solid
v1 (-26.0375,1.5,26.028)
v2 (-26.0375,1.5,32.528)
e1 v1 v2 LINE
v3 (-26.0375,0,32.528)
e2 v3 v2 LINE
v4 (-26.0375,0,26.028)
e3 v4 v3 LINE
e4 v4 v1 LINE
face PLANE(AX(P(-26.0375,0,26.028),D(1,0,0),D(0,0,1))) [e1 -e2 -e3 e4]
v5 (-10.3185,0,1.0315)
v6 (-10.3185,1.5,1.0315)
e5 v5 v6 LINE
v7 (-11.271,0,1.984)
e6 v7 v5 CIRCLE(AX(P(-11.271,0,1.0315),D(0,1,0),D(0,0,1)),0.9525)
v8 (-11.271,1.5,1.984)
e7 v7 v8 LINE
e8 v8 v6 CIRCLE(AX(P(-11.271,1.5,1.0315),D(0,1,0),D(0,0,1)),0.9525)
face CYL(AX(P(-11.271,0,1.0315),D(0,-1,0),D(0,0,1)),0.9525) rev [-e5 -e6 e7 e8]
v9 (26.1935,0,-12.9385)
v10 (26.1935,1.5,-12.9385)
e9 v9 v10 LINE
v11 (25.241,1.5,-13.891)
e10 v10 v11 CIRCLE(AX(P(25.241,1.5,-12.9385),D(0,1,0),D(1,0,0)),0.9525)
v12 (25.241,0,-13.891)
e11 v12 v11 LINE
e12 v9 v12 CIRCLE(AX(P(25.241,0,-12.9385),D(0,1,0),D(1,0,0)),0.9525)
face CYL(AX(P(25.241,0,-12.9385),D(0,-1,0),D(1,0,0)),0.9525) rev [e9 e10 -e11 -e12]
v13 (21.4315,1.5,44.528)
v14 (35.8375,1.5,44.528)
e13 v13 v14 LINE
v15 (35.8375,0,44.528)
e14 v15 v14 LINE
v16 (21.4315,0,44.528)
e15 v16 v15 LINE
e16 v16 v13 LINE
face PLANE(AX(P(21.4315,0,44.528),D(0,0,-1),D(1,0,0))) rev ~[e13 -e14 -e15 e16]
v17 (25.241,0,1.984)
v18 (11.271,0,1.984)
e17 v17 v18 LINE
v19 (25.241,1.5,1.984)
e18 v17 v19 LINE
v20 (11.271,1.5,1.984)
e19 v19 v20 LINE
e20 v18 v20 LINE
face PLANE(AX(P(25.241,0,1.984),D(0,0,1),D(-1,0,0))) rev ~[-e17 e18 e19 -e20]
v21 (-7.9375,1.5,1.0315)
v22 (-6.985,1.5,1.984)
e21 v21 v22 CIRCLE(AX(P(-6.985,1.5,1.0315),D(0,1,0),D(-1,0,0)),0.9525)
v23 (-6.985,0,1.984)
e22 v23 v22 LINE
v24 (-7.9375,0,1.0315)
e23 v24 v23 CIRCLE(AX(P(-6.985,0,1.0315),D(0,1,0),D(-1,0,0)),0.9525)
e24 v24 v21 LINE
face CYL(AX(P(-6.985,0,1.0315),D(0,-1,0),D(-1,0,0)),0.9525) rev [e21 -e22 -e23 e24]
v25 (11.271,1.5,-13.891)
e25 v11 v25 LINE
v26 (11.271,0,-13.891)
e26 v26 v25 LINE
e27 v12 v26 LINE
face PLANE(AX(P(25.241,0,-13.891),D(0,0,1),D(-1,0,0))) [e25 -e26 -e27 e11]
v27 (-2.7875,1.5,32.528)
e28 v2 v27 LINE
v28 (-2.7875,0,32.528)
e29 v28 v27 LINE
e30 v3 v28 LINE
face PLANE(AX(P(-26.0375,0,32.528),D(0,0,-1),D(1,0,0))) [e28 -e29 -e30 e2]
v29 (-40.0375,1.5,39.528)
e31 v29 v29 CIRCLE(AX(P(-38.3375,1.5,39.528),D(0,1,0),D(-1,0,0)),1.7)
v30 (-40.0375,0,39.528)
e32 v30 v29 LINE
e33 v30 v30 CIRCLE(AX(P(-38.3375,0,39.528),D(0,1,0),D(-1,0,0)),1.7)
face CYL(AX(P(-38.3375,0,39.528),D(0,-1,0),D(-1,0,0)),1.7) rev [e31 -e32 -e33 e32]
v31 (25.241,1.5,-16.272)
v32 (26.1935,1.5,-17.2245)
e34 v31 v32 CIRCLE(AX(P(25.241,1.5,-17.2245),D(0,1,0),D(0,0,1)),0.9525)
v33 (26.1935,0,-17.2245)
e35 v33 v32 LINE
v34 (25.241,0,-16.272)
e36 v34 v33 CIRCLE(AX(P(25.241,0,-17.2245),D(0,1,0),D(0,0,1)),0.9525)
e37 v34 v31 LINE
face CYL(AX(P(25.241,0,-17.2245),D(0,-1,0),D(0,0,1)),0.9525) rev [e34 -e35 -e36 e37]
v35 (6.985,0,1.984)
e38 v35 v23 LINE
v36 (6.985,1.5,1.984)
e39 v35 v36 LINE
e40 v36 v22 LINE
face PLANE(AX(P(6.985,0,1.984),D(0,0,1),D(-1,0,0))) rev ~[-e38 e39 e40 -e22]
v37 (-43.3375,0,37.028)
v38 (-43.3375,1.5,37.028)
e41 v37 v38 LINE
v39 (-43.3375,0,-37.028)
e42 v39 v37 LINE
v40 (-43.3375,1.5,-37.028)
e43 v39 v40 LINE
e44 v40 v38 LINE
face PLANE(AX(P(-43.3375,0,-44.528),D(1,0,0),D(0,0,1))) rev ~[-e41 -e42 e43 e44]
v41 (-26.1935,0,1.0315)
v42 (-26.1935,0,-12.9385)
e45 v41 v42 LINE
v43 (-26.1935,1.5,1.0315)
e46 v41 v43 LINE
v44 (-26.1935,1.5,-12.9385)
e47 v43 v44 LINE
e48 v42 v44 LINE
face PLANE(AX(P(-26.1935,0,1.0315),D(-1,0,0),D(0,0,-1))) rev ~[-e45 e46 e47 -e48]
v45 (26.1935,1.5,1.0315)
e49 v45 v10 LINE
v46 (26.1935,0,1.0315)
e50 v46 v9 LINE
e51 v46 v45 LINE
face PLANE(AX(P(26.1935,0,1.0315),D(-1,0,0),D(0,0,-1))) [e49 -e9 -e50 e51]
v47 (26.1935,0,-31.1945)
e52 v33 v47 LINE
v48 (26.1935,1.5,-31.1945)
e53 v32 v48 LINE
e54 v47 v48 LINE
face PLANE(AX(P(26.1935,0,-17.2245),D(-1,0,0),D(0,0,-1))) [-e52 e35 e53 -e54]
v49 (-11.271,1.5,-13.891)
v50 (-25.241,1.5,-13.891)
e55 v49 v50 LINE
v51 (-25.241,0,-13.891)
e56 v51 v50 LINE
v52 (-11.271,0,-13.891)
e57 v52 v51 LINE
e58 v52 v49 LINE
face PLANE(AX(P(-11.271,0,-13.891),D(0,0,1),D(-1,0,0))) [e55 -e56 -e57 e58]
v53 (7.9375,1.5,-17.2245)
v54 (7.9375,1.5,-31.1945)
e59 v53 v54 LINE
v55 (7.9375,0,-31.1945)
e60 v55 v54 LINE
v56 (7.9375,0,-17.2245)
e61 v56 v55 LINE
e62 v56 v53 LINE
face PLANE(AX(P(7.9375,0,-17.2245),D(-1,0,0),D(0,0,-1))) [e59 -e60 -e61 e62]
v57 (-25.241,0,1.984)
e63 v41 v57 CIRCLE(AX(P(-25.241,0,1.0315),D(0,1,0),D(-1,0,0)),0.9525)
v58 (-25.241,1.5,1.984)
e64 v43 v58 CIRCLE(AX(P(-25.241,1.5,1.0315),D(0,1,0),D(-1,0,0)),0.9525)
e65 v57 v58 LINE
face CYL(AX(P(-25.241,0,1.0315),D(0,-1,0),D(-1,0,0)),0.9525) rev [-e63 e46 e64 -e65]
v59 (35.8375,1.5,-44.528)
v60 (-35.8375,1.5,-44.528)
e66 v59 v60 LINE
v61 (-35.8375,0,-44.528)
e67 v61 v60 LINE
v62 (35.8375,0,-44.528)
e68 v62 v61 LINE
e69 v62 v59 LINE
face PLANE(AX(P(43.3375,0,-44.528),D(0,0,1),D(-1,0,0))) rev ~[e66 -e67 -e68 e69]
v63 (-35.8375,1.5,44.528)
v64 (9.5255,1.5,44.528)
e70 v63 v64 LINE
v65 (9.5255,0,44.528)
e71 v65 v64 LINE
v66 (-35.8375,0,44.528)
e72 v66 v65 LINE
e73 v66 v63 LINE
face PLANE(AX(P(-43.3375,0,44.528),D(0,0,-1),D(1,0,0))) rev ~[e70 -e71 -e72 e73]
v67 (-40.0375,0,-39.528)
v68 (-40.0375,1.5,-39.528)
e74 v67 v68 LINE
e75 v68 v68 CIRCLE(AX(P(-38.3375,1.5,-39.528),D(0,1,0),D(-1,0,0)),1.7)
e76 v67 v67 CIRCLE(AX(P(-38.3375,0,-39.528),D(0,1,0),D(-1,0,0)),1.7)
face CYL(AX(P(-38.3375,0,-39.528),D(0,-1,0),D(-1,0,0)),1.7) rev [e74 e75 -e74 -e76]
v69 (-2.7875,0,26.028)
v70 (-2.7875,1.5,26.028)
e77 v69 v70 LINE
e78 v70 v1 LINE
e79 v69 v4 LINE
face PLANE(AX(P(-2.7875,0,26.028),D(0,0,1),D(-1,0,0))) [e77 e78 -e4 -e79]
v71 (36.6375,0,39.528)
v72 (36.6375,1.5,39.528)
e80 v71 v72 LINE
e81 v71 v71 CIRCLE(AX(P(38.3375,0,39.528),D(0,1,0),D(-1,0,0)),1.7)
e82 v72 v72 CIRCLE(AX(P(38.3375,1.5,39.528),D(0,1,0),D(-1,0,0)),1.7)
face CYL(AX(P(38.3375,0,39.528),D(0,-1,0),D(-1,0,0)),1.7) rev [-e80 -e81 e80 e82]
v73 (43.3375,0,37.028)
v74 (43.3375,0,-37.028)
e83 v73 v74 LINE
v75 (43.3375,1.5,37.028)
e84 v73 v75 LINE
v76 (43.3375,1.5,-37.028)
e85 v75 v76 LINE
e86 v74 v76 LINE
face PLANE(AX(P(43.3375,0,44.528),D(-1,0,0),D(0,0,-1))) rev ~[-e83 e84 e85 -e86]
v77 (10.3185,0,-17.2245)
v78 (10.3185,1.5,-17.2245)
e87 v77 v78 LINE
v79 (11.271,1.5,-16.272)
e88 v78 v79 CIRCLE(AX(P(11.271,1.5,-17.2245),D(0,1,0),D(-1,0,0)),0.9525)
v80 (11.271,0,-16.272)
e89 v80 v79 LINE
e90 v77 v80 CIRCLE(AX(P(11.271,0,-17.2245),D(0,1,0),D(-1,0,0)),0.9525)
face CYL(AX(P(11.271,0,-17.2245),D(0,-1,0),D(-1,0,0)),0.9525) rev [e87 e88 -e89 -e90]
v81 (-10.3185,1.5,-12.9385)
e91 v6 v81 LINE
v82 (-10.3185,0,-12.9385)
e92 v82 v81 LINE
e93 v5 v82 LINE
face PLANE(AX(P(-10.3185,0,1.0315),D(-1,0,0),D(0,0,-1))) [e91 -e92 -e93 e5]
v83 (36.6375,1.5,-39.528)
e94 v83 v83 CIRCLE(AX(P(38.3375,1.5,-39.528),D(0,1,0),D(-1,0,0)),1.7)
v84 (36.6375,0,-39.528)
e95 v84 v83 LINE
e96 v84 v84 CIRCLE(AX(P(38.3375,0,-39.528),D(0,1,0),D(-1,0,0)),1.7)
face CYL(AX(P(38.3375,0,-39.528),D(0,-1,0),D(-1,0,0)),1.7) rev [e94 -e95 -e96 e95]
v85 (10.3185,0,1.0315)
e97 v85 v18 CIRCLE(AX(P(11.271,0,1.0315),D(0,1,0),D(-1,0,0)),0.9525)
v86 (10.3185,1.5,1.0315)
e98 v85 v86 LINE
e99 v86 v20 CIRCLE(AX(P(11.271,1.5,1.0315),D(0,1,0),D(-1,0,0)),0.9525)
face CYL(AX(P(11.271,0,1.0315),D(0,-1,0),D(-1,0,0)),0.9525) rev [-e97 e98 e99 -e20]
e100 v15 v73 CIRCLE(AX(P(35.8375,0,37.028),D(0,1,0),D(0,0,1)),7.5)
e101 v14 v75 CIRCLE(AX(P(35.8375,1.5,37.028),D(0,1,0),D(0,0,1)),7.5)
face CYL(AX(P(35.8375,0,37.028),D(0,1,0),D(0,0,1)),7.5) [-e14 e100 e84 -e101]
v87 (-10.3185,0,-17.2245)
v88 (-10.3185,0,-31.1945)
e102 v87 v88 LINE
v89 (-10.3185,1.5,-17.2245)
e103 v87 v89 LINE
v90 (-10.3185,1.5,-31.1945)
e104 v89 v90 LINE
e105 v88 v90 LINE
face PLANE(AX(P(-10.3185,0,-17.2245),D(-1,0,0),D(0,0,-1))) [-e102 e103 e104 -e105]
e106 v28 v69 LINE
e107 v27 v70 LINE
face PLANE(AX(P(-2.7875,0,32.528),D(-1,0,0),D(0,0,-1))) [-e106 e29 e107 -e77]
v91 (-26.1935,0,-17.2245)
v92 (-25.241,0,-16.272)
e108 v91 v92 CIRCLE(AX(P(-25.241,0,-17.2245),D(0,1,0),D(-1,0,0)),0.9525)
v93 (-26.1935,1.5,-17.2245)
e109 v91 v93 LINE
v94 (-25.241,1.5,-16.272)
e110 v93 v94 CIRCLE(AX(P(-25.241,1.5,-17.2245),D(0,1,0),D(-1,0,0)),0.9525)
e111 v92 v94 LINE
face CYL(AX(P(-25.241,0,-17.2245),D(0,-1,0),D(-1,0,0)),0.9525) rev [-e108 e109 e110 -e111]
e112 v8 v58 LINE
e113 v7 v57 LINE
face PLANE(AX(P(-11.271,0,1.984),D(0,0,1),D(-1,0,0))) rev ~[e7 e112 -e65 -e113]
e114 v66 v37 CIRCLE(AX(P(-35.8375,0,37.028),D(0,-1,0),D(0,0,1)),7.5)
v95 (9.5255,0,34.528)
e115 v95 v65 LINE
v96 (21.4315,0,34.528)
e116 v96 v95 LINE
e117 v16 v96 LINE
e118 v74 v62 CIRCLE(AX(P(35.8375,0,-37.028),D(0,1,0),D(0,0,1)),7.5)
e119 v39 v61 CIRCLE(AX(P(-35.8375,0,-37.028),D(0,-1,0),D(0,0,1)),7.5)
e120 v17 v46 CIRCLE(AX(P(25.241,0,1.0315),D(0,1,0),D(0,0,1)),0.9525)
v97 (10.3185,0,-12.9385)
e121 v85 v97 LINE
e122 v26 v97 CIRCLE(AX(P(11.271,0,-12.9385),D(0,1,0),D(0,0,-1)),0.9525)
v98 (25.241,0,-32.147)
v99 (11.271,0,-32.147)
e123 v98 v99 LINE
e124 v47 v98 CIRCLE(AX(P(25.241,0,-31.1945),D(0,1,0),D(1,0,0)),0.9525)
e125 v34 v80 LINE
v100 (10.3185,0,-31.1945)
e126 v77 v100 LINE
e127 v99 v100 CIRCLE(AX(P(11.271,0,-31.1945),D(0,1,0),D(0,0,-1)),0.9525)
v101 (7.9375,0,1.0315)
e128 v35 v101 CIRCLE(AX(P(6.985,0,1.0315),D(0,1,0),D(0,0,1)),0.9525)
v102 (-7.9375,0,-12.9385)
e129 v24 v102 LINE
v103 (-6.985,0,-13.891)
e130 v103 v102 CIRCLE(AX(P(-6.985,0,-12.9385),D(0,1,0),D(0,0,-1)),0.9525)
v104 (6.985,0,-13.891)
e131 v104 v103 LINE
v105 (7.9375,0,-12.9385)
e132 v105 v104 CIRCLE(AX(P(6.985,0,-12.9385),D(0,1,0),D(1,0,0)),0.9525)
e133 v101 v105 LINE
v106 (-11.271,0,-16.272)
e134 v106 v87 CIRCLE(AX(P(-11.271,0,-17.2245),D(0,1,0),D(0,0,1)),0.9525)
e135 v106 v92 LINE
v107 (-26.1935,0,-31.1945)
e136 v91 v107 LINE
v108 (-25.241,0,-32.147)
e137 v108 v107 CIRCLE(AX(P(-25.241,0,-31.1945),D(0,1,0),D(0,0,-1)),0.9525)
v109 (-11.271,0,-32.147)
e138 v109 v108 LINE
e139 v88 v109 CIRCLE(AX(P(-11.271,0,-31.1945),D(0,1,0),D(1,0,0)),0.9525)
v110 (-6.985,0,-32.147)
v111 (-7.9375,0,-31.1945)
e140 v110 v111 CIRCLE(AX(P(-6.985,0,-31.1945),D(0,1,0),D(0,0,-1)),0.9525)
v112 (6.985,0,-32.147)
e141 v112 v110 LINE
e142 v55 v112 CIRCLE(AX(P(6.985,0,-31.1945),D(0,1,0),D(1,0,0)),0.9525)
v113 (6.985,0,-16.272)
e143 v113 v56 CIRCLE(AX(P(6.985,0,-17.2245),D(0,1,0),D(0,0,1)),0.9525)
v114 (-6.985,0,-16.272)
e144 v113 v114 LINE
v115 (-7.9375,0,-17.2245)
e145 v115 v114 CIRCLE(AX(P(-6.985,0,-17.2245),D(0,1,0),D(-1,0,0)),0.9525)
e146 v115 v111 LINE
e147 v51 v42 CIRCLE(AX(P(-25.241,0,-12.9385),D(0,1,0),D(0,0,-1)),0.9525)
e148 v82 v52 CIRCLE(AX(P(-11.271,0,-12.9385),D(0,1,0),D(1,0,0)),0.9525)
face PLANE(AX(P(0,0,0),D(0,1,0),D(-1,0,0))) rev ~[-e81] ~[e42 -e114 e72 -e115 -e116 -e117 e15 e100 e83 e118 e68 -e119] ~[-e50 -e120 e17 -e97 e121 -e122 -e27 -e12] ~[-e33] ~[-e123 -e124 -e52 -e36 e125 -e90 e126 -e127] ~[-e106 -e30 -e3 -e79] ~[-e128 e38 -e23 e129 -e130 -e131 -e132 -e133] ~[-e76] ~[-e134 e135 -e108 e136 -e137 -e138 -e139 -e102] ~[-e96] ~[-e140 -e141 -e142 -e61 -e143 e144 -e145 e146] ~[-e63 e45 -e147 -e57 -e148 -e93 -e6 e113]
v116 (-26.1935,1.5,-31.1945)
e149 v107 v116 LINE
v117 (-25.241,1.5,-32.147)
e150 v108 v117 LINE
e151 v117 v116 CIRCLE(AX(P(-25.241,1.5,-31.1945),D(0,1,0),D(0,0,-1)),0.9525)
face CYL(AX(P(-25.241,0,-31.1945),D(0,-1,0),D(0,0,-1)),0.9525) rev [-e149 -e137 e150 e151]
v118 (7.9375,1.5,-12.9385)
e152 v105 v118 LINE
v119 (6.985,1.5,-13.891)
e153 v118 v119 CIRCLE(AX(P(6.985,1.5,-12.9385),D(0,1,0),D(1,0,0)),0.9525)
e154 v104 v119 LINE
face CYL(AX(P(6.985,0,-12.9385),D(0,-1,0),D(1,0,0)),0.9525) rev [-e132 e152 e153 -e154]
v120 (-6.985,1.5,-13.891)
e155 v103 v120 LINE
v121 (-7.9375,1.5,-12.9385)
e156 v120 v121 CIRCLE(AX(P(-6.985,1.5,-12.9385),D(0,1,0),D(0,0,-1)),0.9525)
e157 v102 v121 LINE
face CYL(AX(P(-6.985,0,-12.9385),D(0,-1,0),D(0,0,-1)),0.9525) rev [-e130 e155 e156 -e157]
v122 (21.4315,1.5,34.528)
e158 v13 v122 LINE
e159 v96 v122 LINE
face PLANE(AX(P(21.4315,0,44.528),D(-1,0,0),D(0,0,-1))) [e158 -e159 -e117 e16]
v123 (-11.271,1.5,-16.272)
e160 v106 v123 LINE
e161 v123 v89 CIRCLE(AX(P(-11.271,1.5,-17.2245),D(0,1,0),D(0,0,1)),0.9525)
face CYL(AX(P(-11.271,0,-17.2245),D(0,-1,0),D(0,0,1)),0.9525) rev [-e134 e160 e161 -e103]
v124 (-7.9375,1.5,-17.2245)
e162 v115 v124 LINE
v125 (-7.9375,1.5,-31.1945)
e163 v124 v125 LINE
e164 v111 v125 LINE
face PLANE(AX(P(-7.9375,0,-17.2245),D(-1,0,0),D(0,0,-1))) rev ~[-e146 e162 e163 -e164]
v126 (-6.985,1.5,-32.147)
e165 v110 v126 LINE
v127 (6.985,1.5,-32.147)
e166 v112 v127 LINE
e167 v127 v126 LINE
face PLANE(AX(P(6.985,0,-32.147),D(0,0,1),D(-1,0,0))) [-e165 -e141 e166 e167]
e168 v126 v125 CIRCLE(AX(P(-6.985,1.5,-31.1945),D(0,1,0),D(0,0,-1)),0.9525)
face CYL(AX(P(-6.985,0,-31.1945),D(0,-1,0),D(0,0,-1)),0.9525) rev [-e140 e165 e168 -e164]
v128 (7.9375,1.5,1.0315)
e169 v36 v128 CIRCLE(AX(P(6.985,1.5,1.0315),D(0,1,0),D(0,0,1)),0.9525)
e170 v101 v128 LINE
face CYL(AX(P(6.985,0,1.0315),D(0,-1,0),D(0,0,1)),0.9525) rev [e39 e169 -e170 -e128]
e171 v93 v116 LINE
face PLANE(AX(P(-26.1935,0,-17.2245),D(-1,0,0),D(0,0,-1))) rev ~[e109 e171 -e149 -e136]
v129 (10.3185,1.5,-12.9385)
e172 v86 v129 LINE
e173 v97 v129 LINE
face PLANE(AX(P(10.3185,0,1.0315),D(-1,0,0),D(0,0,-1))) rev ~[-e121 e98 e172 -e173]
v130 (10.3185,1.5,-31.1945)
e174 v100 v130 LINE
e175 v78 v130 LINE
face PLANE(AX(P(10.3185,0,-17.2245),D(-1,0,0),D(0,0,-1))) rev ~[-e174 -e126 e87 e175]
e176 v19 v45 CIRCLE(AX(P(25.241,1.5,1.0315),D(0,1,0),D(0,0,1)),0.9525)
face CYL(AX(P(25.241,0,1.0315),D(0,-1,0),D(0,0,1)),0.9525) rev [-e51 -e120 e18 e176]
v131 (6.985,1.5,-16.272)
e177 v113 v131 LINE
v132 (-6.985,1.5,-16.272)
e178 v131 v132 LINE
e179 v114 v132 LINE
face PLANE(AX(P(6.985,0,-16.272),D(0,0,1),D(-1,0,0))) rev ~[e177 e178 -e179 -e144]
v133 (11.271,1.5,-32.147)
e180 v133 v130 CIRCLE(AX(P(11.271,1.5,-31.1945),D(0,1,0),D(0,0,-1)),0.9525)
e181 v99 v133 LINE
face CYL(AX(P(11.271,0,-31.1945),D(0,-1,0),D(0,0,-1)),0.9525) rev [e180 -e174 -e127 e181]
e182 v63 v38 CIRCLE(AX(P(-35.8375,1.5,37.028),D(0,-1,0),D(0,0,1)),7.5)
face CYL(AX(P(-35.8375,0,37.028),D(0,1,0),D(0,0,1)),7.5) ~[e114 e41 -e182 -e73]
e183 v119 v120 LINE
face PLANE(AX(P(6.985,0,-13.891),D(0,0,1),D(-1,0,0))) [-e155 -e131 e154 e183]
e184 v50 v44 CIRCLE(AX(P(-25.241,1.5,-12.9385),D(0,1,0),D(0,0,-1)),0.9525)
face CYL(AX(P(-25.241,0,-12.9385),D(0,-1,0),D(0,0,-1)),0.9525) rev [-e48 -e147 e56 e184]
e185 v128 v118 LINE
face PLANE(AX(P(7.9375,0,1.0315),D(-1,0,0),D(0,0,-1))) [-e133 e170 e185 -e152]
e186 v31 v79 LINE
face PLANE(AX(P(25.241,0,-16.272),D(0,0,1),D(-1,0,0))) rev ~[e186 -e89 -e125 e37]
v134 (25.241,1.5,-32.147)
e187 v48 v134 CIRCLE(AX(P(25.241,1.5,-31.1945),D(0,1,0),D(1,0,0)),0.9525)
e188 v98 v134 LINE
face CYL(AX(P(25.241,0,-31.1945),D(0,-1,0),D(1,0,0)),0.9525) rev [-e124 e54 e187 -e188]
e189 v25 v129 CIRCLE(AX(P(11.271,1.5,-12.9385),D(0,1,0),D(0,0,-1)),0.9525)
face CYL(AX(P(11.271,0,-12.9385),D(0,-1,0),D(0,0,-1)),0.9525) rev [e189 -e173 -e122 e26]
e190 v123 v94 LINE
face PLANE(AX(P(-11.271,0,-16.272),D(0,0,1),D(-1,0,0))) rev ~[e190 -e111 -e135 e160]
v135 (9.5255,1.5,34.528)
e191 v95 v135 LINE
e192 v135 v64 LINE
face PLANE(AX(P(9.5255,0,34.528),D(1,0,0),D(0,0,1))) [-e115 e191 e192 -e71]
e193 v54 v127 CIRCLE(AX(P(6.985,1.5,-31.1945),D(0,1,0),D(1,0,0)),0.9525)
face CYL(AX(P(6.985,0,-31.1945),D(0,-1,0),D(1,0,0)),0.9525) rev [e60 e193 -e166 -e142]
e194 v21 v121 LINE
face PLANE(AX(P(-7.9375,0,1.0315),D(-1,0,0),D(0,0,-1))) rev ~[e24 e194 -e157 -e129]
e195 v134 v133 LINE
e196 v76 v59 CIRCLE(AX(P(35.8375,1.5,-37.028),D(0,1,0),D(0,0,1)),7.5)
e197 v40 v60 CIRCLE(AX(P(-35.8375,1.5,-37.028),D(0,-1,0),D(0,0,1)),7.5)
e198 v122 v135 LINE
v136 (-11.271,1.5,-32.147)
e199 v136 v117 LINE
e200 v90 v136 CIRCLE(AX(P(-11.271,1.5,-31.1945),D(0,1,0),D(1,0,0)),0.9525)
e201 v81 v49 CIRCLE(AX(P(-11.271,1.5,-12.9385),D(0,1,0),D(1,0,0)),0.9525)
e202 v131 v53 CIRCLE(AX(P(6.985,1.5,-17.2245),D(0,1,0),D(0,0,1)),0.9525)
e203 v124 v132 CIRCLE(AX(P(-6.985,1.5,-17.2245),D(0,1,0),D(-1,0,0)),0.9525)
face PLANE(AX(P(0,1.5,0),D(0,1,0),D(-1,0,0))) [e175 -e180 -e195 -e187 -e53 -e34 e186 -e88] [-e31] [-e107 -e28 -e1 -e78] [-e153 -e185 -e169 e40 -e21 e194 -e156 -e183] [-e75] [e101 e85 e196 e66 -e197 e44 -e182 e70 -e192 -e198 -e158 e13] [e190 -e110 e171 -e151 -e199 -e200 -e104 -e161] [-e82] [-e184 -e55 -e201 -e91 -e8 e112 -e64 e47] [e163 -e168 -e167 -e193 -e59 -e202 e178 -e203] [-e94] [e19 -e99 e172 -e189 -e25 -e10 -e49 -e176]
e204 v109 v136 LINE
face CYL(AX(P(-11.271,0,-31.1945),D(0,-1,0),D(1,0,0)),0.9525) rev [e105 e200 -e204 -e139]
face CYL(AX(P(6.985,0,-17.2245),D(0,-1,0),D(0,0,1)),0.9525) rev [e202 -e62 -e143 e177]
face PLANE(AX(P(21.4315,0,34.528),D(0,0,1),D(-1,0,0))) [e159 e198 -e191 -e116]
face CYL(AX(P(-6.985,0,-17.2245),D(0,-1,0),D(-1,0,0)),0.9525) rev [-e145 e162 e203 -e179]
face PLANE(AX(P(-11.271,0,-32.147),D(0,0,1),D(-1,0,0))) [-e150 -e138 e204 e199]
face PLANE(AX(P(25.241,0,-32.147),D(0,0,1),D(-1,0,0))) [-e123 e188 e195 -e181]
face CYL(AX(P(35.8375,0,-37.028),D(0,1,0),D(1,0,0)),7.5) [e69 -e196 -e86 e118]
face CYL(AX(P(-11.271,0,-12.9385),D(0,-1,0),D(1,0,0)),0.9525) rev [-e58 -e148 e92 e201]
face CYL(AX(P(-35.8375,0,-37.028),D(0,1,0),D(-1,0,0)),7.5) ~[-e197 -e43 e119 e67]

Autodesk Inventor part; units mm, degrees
ref_plane "YZ Plane" through (0, 0, 0) normal (1, 0, 0) x (0, 1, 0)
ref_plane "XZ Plane" through (0, 0, 0) normal (0, 1, 0) x (-1, 0, 0)
ref_plane "XY Plane" through (0, 0, 0) normal (0, 0, 1) x (1, 0, 0)
sketch "Sketch3" plane through (0, 0, 0) normal (0, 1, 0) x (-1, 0, 0)
  line L0 (-25.241, 1.984) -> (-11.271, 1.984)
  line L1 (-25.241, -13.891) -> (-11.271, -13.891)
  line L2 (-26.1935, 1.0315) -> (-26.1935, -12.9385)
  line L3 (-10.3185, 1.0315) -> (-10.3185, -12.9385)
  arc A0 (-25.241, 1.984) -> (-26.1935, 1.0315) centre (-25.241, 1.0315) ccw
  arc A1 (-10.3185, 1.0315) -> (-11.271, 1.984) centre (-11.271, 1.0315) ccw
  arc A2 (-26.1935, -12.9385) -> (-25.241, -13.891) centre (-25.241, -12.9385) ccw
  arc A3 (-11.271, -13.891) -> (-10.3185, -12.9385) centre (-11.271, -12.9385) ccw
  line L4 (-6.985, 1.984) -> (6.985, 1.984)
  line L5 (-6.985, -13.891) -> (6.985, -13.891)
  line L6 (-7.9375, 1.0315) -> (-7.9375, -12.9385)
  line L7 (7.9375, 1.0315) -> (7.9375, -12.9385)
  arc A4 (-6.985, 1.984) -> (-7.9375, 1.0315) centre (-6.985, 1.0315) ccw
  arc A5 (7.9375, 1.0315) -> (6.985, 1.984) centre (6.985, 1.0315) ccw
  arc A6 (-7.9375, -12.9385) -> (-6.985, -13.891) centre (-6.985, -12.9385) ccw
  arc A7 (6.985, -13.891) -> (7.9375, -12.9385) centre (6.985, -12.9385) ccw
  line L8 (11.271, 1.984) -> (25.241, 1.984)
  line L9 (11.271, -13.891) -> (25.241, -13.891)
  line L10 (10.3185, 1.0315) -> (10.3185, -12.9385)
  line L11 (26.1935, 1.0315) -> (26.1935, -12.9385)
  arc A8 (11.271, 1.984) -> (10.3185, 1.0315) centre (11.271, 1.0315) ccw
  arc A9 (26.1935, 1.0315) -> (25.241, 1.984) centre (25.241, 1.0315) ccw
  arc A10 (10.3185, -12.9385) -> (11.271, -13.891) centre (11.271, -12.9385) ccw
  arc A11 (25.241, -13.891) -> (26.1935, -12.9385) centre (25.241, -12.9385) ccw
  line L12 (-25.241, -16.272) -> (-11.271, -16.272)
  line L13 (-25.241, -32.147) -> (-11.271, -32.147)
  line L14 (-26.1935, -17.2245) -> (-26.1935, -31.1945)
  line L15 (-10.3185, -17.2245) -> (-10.3185, -31.1945)
  arc A12 (-25.241, -16.272) -> (-26.1935, -17.2245) centre (-25.241, -17.2245) ccw
  arc A13 (-10.3185, -17.2245) -> (-11.271, -16.272) centre (-11.271, -17.2245) ccw
  arc A14 (-26.1935, -31.1945) -> (-25.241, -32.147) centre (-25.241, -31.1945) ccw
  arc A15 (-11.271, -32.147) -> (-10.3185, -31.1945) centre (-11.271, -31.1945) ccw
  line L16 (-6.985, -16.272) -> (6.985, -16.272)
  line L17 (-6.985, -32.147) -> (6.985, -32.147)
  line L18 (-7.9375, -17.2245) -> (-7.9375, -31.1945)
  line L19 (7.9375, -17.2245) -> (7.9375, -31.1945)
  arc A16 (-6.985, -16.272) -> (-7.9375, -17.2245) centre (-6.985, -17.2245) ccw
  arc A17 (7.9375, -17.2245) -> (6.985, -16.272) centre (6.985, -17.2245) ccw
  arc A18 (-7.9375, -31.1945) -> (-6.985, -32.147) centre (-6.985, -31.1945) ccw
  arc A19 (6.985, -32.147) -> (7.9375, -31.1945) centre (6.985, -31.1945) ccw
  line L20 (11.271, -16.272) -> (25.241, -16.272)
  line L21 (11.271, -32.147) -> (25.241, -32.147)
  line L22 (10.3185, -17.2245) -> (10.3185, -31.1945)
  line L23 (26.1935, -17.2245) -> (26.1935, -31.1945)
  arc A20 (11.271, -16.272) -> (10.3185, -17.2245) centre (11.271, -17.2245) ccw
  arc A21 (26.1935, -17.2245) -> (25.241, -16.272) centre (25.241, -17.2245) ccw
  arc A22 (10.3185, -31.1945) -> (11.271, -32.147) centre (11.271, -31.1945) ccw
  arc A23 (25.241, -32.147) -> (26.1935, -31.1945) centre (25.241, -31.1945) ccw
  line L24 (-33.3375, -34.528) -> (33.3375, -34.528)
  line L25 (-33.3375, 34.528) -> (33.3375, 34.528)
  line L26 (-33.3375, -34.528) -> (-33.3375, 34.528)
  line L27 (33.3375, -34.528) -> (33.3375, 34.528)
  line L28 (-33.3375, 34.528) -> (-22.4409, 34.528) construction
  line L29 (-22.4409, 34.528) -> (-3.9497, 34.528)
  line L30 (-43.3375, -44.528) -> (43.3375, -44.528)
  line L31 (43.3375, -44.528) -> (43.3375, 44.528)
  line L32 (43.3375, 44.528) -> (-43.3375, 44.528)
  line L33 (-43.3375, 44.528) -> (-43.3375, -44.528)
  circle A24 centre (-38.3375, -39.528) radius 1.7
  circle A25 centre (38.3375, -39.528) radius 1.7
  circle A26 centre (-38.3375, 39.528) radius 1.7
  circle A27 centre (38.3375, 39.528) radius 1.7
  line L34 (-22.4409, 34.528) -> (-3.9409, 34.528)
  line L35 (-21.4315, 34.528) -> (-9.5255, 34.528)
  line L36 (-9.5255, 34.528) -> (-9.5255, 48.1303)
  line L37 (-9.5255, 48.1303) -> (-21.4315, 48.1303)
  line L38 (-21.4315, 48.1303) -> (-21.4315, 34.528)
  line L39 (2.7875, 26.028) -> (26.0375, 26.028)
  line L40 (26.0375, 26.028) -> (26.0375, 32.528)
  line L41 (26.0375, 32.528) -> (2.7875, 32.528)
  line L42 (2.7875, 32.528) -> (2.7875, 26.028)
  point P0 (0, 0)
  point P1 (-10.3185, -5.9535)
  point P2 (0, 0)
  point P3 (-21.4315, 44.528)
  point P4 (-9.5255, 44.528)
  point P5 (-9.5255, 34.528)
  dimension "d13" = 2.381
  dimension "d14" = 7.144
  dimension "d15" = 66.675
  dimension "d16" = 69.056
  dimension "d17" = 7.144
  dimension "d18" = 13.97
  dimension "d19" = 13.97
  dimension "d20" = 2.381
  dimension "d21" = 13.97
  dimension "d22" = 13.97
  dimension "d23" = 13.97
  dimension "d24" = 2.381
  dimension "d25" = 2.381
  dimension "d46" = 10
  dimension "d47" = 10
  dimension "d48" = 3.4
  dimension "d49" = 3.4
  dimension "d50" = 3.4
  dimension "d51" = 3.4
  dimension "d52" = 5
  dimension "d53" = 5
  dimension "d54" = 5
  dimension "d55" = 5
  dimension "d56" = 5
  dimension "d57" = 5
  dimension "d58" = 5
  dimension "d59" = 5
  dimension "d62" = 11.906
  dimension "d66" = 23.25
  dimension "d67" = 6.5
  dimension "d72" = 7.3
  dimension "d73" = 2
  dimension "d74" = 10
extrude "Extrusion4" add sketch "Sketch3" along normal blind 1.5 contours L26 L25 L27 L24 | L24 L27 L25 L36 L32 L31 L30 L33 L38 L26
fillet "Fillet4" radius 7.5 4 edges at (-43.3375, 0.75, -44.528) (-43.3375, 0.75, 44.528) (43.3375, 0.75, -44.528) (43.3375, 0.75, 44.528)
properties part number "case top"
